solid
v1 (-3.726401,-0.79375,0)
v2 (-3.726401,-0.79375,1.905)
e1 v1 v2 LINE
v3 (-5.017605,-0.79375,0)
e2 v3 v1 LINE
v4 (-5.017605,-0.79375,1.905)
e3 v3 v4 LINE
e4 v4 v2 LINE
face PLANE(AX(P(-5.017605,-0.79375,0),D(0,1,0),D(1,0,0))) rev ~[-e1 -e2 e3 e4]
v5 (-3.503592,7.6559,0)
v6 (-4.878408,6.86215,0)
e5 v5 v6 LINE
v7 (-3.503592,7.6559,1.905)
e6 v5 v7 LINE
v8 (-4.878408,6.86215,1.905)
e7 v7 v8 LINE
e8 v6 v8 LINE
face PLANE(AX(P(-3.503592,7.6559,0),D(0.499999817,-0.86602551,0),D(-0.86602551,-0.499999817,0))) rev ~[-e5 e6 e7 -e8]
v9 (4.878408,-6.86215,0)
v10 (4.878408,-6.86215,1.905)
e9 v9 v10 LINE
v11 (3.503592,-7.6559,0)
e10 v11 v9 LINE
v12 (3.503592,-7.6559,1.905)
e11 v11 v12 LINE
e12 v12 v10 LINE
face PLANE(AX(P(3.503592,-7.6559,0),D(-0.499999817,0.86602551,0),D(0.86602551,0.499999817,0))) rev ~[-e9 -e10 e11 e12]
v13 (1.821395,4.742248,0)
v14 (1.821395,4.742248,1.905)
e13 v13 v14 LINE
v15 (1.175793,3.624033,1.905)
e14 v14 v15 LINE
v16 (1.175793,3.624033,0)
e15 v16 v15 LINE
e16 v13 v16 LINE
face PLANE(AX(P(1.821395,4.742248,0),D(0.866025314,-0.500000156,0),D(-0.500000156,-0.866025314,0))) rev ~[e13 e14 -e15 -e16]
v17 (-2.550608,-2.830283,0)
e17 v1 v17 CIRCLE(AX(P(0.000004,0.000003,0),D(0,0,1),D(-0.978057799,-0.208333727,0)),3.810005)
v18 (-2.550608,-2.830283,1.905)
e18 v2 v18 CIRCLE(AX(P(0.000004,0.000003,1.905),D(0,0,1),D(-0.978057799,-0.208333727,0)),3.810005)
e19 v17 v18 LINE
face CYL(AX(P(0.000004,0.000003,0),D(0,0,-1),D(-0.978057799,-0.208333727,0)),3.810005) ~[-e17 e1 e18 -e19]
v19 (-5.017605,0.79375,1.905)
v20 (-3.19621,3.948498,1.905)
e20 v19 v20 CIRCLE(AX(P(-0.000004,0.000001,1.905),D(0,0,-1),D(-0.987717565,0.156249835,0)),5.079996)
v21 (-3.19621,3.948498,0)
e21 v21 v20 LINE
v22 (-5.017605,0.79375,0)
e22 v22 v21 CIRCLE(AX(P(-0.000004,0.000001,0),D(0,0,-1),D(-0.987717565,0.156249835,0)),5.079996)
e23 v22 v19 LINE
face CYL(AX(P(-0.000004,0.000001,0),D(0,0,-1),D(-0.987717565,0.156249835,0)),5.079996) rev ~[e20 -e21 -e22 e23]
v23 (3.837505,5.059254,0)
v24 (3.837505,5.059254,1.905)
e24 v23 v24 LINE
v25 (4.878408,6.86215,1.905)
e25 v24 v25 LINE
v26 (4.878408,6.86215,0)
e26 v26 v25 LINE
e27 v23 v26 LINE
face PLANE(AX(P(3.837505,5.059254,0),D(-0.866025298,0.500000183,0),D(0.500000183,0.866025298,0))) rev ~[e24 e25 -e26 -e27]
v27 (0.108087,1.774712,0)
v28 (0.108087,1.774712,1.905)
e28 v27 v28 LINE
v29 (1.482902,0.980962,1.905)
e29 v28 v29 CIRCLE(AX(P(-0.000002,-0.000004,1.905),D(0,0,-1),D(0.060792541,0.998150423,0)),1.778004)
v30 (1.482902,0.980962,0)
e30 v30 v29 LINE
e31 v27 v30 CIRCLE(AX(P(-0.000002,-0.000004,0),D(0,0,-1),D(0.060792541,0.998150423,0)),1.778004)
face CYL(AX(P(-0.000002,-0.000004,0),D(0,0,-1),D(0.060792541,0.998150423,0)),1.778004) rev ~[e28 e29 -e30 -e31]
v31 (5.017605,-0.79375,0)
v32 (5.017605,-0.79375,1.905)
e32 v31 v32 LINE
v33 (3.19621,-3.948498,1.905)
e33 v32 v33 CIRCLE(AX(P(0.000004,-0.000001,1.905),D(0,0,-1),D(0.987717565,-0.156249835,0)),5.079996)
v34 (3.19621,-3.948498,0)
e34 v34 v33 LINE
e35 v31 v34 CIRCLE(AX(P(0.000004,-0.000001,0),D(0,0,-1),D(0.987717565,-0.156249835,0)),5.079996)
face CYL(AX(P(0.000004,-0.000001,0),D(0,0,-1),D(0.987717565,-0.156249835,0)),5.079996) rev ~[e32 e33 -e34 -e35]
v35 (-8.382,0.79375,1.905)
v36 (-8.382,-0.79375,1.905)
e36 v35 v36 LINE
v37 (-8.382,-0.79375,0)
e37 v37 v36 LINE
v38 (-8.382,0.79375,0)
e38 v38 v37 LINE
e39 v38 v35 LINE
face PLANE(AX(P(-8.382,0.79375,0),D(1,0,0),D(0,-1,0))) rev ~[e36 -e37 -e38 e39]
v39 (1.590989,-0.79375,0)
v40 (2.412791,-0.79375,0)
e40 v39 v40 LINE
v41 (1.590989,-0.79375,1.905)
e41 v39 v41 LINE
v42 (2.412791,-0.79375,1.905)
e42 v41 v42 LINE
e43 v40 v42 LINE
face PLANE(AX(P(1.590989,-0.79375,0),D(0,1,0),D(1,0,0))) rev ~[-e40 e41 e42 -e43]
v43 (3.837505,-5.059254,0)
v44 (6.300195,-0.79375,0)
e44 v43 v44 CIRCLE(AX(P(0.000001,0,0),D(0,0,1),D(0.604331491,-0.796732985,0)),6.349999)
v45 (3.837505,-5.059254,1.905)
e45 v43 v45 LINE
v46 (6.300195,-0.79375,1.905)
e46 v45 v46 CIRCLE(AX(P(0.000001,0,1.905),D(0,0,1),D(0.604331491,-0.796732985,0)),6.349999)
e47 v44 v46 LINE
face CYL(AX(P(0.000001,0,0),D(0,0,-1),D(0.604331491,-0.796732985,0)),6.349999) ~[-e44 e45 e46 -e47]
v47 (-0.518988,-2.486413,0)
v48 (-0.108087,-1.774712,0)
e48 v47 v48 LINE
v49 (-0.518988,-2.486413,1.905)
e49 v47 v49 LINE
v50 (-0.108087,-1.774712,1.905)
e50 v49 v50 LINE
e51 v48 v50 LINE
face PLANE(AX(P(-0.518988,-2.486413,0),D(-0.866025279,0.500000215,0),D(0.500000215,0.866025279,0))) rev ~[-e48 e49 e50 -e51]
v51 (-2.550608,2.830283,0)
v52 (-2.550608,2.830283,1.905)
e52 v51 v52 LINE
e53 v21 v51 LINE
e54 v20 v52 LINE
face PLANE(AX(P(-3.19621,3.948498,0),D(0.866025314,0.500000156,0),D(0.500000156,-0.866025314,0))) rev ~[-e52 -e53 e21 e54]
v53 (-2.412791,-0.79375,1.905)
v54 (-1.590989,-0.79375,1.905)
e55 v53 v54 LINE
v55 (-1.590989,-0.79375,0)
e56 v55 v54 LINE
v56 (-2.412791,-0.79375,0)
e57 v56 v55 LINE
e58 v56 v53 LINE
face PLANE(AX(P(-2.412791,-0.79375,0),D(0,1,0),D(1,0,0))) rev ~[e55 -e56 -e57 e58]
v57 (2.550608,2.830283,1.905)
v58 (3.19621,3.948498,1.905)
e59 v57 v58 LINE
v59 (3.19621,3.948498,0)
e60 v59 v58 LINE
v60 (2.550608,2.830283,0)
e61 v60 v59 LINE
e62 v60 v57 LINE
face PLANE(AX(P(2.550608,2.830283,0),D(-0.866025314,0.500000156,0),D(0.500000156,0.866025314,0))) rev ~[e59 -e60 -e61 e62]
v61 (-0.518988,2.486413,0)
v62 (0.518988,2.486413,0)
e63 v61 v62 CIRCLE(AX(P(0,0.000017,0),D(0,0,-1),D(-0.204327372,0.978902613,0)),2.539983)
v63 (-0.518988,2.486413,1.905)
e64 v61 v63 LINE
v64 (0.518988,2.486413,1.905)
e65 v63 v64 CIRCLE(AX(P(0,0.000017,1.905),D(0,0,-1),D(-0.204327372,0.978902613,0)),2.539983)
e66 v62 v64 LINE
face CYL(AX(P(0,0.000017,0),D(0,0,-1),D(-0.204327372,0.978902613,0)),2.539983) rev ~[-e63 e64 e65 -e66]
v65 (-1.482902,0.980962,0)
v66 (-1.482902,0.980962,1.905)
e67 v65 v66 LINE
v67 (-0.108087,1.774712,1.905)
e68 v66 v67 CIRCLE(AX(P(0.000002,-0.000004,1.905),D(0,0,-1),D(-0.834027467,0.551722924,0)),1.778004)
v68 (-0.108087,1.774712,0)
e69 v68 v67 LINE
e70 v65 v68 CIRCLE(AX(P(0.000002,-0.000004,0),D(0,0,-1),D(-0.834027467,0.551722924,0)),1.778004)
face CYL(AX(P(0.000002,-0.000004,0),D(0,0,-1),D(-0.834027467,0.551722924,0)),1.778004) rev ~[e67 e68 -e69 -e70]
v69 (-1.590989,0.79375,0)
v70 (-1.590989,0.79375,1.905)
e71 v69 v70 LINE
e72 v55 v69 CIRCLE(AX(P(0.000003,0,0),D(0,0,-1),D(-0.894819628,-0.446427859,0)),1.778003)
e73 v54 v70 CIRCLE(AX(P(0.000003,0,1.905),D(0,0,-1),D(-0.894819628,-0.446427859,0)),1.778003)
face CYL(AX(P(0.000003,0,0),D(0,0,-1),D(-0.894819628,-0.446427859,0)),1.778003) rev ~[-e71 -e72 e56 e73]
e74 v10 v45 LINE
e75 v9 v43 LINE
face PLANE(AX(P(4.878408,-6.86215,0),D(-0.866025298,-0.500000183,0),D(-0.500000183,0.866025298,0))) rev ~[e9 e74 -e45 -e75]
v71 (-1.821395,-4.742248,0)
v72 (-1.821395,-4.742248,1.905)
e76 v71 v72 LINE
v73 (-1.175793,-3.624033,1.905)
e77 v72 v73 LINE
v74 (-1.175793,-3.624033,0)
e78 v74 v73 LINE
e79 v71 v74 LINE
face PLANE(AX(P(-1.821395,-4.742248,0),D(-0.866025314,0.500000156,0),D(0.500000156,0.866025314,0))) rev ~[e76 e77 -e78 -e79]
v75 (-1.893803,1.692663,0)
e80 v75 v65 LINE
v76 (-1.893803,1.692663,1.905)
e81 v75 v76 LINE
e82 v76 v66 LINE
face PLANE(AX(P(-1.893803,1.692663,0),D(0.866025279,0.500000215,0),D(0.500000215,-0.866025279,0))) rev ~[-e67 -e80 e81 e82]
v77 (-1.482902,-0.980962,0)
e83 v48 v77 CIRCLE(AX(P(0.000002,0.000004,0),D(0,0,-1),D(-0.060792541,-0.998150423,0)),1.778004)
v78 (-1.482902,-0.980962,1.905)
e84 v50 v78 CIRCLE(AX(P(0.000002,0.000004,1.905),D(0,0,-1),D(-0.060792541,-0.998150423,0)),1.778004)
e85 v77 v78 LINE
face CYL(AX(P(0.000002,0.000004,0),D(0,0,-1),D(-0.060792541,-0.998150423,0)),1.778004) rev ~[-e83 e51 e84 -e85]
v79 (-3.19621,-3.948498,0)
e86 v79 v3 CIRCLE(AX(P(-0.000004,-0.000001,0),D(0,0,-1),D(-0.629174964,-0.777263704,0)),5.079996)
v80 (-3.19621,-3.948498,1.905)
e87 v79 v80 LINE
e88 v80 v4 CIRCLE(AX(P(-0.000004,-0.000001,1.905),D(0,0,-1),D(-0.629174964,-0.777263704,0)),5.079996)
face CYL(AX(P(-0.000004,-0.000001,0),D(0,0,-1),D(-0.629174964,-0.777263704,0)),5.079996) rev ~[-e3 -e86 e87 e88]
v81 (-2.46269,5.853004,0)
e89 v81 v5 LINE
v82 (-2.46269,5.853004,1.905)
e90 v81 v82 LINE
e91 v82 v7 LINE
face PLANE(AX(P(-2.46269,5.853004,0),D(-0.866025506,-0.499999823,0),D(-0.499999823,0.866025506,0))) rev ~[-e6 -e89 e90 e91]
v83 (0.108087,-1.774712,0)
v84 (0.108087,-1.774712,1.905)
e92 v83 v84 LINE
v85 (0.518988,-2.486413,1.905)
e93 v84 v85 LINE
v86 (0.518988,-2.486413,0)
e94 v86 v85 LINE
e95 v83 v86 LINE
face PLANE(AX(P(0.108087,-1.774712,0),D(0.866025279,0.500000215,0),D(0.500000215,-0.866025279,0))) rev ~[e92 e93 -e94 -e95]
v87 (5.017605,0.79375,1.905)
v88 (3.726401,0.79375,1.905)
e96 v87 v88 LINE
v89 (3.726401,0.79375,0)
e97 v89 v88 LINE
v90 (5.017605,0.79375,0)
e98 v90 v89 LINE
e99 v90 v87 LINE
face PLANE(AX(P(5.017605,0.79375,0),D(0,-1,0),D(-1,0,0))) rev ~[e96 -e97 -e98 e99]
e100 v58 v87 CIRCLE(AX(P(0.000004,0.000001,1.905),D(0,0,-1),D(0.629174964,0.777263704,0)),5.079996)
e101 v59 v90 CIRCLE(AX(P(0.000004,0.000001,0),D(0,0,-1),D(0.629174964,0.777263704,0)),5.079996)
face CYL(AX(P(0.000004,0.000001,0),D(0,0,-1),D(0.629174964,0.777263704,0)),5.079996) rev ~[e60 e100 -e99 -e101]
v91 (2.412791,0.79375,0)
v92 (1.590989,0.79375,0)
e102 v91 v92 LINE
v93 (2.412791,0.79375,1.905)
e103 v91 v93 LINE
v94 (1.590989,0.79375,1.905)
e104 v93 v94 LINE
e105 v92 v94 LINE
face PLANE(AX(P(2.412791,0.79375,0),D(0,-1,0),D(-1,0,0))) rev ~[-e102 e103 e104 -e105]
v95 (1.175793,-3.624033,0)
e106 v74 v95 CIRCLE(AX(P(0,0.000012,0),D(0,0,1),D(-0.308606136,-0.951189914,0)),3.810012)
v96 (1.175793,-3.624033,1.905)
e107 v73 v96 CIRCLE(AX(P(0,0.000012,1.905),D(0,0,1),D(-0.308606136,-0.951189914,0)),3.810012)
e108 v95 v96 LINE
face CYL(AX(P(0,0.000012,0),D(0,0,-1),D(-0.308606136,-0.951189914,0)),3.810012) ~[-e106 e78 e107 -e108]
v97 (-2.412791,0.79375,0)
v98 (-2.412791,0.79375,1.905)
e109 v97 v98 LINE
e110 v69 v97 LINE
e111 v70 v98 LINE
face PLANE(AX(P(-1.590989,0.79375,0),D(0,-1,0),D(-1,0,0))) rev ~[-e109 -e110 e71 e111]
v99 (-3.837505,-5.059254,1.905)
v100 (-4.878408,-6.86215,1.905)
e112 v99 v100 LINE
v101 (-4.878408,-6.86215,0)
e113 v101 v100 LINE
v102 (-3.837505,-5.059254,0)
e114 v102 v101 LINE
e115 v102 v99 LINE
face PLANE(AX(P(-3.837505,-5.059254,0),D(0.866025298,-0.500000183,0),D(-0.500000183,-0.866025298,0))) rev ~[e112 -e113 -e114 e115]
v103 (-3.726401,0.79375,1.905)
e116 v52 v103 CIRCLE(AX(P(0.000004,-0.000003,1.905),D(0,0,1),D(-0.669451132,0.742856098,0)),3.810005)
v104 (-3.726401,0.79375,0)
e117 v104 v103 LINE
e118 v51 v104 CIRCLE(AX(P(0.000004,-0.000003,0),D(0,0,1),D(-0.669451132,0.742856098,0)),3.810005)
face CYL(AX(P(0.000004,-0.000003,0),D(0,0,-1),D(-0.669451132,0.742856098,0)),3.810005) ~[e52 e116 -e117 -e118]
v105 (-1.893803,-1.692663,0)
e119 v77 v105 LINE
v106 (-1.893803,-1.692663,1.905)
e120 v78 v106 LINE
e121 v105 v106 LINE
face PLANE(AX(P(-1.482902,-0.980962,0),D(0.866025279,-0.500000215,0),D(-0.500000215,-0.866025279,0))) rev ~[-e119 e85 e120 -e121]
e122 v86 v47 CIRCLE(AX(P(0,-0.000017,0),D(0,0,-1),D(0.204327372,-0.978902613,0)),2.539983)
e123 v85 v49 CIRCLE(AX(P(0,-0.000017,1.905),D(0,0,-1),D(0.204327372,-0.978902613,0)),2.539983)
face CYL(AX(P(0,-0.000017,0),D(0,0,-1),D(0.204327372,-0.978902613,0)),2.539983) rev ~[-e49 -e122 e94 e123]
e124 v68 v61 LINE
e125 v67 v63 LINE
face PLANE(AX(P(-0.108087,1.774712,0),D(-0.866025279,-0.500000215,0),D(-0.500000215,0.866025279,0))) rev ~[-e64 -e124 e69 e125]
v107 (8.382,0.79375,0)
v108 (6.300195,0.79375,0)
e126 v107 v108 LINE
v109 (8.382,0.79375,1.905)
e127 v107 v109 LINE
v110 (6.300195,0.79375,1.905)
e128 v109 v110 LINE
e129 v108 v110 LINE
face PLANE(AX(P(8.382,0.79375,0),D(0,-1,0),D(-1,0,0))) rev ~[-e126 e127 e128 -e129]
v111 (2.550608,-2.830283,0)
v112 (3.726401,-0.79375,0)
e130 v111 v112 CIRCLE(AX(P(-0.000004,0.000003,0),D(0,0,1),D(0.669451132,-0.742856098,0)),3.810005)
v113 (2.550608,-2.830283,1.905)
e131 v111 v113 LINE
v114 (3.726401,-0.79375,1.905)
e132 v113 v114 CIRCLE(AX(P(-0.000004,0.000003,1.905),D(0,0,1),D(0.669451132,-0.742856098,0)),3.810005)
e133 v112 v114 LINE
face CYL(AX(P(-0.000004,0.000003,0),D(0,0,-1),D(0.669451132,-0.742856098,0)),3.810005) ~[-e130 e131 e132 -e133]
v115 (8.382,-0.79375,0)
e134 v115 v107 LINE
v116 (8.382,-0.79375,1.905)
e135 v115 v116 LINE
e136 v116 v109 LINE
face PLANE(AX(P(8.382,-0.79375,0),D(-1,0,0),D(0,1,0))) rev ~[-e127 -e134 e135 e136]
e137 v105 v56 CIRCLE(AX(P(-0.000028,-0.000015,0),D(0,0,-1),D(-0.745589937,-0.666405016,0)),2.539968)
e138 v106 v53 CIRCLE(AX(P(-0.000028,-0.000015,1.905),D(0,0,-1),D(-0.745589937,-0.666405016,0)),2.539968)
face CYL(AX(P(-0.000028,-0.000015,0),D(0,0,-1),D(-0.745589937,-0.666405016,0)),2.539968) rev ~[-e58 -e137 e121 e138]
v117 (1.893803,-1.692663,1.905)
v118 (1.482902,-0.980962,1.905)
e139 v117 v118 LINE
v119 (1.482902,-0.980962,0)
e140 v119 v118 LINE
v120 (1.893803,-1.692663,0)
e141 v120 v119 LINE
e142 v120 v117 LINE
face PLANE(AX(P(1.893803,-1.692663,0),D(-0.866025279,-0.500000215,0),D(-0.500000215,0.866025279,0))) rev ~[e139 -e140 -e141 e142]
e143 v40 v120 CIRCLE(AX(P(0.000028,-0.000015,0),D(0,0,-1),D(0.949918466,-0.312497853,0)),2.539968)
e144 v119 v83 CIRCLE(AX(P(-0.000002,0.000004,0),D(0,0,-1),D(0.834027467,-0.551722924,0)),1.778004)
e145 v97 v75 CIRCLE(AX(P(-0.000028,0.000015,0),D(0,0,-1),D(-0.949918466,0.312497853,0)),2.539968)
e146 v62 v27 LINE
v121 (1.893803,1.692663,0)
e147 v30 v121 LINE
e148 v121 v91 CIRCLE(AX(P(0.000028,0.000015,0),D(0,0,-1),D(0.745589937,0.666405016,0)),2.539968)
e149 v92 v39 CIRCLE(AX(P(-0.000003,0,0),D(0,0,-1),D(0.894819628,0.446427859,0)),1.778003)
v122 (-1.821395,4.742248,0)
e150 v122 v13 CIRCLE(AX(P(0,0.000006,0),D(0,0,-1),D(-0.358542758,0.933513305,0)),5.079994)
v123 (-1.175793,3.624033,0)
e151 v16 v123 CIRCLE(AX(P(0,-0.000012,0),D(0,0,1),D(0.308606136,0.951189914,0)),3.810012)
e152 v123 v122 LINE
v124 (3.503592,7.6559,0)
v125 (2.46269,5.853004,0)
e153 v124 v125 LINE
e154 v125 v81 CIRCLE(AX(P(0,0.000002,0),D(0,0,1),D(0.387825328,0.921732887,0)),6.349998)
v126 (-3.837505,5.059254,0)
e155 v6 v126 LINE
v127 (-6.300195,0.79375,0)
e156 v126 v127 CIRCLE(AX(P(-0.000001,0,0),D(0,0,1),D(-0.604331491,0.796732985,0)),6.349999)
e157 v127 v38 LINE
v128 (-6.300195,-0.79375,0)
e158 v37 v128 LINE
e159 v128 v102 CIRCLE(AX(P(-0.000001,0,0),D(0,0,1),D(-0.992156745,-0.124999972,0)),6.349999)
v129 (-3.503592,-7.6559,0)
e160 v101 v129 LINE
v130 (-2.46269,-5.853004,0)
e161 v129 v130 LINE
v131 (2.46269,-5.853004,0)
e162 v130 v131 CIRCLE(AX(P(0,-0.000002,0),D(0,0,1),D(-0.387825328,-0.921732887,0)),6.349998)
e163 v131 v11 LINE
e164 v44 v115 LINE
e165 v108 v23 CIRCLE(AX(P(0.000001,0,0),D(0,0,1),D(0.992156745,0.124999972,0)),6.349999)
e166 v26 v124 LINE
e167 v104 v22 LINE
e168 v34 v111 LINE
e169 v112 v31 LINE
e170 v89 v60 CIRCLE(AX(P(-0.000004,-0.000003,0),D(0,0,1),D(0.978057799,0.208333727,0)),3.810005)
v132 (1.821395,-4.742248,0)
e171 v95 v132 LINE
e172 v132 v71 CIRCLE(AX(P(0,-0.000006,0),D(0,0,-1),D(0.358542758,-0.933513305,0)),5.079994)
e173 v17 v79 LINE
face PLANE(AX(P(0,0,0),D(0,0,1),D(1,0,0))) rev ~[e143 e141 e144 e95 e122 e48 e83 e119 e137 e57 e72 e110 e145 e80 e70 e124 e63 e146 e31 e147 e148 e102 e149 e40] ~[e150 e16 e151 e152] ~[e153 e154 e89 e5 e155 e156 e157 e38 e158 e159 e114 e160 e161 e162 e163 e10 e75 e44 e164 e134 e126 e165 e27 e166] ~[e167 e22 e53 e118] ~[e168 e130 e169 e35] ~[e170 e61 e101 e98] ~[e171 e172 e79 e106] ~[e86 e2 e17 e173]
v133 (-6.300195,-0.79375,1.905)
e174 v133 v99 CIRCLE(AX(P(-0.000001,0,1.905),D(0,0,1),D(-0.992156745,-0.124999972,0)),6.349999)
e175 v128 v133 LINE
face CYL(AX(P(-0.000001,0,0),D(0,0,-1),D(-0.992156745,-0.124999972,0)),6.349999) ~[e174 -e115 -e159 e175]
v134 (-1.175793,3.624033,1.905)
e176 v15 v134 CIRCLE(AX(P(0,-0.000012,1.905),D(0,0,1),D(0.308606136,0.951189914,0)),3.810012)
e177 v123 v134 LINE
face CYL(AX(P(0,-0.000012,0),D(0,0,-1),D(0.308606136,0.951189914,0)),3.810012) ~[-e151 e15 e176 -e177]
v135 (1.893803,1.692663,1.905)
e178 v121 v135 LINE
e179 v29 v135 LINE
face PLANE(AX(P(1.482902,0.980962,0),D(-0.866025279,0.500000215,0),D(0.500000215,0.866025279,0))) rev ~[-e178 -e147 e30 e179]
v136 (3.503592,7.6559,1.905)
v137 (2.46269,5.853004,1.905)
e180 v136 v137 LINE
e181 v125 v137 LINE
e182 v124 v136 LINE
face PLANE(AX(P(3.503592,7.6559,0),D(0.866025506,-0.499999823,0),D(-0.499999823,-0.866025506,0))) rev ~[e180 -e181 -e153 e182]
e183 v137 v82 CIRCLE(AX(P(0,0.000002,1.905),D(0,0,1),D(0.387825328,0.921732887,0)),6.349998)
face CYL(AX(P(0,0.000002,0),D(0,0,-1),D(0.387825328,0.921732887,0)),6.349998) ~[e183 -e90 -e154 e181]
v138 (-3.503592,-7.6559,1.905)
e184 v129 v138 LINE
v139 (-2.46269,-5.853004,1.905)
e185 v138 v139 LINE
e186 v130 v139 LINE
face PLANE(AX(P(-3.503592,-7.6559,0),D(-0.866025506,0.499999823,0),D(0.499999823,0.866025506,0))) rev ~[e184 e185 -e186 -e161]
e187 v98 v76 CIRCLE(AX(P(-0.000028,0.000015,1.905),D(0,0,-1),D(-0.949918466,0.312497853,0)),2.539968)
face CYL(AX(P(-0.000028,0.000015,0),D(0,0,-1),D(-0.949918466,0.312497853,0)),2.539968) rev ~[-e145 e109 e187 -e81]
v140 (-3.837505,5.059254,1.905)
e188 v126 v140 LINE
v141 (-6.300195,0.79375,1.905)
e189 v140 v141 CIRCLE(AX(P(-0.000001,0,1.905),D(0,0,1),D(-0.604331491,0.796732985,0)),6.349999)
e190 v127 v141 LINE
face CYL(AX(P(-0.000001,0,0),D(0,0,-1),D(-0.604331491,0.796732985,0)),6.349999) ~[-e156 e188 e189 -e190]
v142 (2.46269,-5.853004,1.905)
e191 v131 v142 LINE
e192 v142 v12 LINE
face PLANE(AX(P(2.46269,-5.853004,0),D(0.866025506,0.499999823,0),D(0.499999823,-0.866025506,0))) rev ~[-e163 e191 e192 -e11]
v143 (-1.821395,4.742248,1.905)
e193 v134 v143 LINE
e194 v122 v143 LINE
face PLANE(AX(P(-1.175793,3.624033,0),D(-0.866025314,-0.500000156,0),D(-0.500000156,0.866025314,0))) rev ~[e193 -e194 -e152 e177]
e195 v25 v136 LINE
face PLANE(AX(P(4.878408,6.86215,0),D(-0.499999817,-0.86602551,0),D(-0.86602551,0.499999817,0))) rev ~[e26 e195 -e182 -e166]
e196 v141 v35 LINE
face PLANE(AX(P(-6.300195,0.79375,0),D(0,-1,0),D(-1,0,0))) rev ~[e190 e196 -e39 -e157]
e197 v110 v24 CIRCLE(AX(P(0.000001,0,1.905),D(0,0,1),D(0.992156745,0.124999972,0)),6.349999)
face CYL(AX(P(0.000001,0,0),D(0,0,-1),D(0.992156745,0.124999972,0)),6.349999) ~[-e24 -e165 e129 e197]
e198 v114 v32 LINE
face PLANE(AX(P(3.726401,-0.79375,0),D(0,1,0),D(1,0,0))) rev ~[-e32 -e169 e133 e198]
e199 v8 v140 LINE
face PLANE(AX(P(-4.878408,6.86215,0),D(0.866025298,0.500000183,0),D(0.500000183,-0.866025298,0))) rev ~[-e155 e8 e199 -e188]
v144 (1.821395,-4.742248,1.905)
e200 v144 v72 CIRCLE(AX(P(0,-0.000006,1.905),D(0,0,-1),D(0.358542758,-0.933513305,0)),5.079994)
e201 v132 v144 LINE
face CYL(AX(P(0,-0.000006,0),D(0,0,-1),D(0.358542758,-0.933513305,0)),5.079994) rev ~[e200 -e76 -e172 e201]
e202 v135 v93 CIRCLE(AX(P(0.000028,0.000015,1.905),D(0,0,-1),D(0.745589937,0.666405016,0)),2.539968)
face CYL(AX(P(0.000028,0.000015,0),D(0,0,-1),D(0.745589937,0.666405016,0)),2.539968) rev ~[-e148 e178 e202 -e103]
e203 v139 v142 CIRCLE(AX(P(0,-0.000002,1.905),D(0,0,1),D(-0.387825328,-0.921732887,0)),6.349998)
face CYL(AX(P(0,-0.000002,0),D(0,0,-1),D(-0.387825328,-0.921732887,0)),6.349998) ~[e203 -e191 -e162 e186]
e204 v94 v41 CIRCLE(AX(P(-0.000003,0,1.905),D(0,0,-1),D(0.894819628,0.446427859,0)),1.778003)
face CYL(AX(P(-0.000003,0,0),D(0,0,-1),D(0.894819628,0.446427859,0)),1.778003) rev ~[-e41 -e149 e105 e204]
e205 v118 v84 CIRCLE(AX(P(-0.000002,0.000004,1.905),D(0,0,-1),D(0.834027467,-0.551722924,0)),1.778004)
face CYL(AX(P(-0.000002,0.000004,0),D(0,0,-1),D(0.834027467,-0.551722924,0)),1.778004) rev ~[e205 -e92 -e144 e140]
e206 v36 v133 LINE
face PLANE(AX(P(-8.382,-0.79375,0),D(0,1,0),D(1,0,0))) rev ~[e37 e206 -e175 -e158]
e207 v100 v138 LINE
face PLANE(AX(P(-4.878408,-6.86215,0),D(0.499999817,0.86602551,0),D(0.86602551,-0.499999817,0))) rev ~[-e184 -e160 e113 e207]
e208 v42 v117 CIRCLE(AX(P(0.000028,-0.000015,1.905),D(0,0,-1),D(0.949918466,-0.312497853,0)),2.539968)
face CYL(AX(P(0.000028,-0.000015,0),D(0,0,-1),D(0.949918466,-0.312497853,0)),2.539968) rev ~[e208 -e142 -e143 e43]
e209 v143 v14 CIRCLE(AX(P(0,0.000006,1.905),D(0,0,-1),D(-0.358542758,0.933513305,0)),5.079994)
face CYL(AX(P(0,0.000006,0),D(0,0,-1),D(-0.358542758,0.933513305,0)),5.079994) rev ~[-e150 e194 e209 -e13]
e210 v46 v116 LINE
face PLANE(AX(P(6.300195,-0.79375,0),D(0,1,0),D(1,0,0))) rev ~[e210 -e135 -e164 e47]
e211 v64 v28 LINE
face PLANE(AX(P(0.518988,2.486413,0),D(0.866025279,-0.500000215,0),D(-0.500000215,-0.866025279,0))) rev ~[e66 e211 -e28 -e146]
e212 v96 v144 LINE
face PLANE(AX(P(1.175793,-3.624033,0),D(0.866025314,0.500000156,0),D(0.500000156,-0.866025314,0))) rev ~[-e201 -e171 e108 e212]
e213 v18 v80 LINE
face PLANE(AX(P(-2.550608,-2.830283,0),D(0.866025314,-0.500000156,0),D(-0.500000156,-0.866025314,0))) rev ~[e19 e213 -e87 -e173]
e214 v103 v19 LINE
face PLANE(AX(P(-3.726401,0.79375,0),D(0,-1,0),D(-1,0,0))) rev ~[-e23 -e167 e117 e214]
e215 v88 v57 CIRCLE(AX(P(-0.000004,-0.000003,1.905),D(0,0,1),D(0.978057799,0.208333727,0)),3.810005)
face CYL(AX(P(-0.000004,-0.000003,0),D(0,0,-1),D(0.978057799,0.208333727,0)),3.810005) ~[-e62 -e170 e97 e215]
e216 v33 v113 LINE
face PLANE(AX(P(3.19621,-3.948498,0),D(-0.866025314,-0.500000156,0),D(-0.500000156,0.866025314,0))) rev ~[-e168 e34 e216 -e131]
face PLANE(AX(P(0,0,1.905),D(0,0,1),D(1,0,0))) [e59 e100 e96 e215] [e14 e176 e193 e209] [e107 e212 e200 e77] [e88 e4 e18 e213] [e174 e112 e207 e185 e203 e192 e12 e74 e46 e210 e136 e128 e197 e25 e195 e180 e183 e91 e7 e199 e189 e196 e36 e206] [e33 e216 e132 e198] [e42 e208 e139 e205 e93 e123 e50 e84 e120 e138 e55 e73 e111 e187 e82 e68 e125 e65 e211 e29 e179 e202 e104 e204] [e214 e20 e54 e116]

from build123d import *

# Parameters (mm, degrees)
F1_DEPTH = 1.905


with BuildPart() as f1:
    # F0 (on Top) → F1 (new body)
    with BuildSketch(Plane.XY):
        with BuildLine():
            Line((-4.878408, 6.86215), (-3.837505, 5.059254))
            ThreePointArc((-3.837505, 5.059254), (-5.499261, 3.175), (-6.300195, 0.79375))
            Line((-6.300195, 0.79375), (-8.382, 0.79375))
            Line((-8.382, 0.79375), (-8.382, -0.79375))
            Line((-8.382, -0.79375), (-6.300195, -0.79375))
            ThreePointArc((-6.300195, -0.79375), (-5.499261, -3.175), (-3.837505, -5.059254))
            Line((-3.837505, -5.059254), (-4.878408, -6.86215))
            Line((-4.878408, -6.86215), (-3.503592, -7.6559))
            Line((-3.503592, -7.6559), (-2.46269, -5.853004))
            ThreePointArc((-2.46269, -5.853004), (0, -6.35), (2.46269, -5.853004))
            Line((2.46269, -5.853004), (3.503592, -7.6559))
            Line((3.503592, -7.6559), (4.878408, -6.86215))
            Line((4.878408, -6.86215), (3.837505, -5.059254))
            ThreePointArc((3.837505, -5.059254), (5.499261, -3.175), (6.300195, -0.79375))
            Line((6.300195, -0.79375), (8.382, -0.79375))
            Line((8.382, -0.79375), (8.382, 0.79375))
            Line((8.382, 0.79375), (6.300195, 0.79375))
            ThreePointArc((6.300195, 0.79375), (5.499261, 3.175), (3.837505, 5.059254))
            Line((3.837505, 5.059254), (4.878408, 6.86215))
            Line((4.878408, 6.86215), (3.503592, 7.6559))
            Line((3.503592, 7.6559), (2.46269, 5.853004))
            ThreePointArc((2.46269, 5.853004), (0, 6.35), (-2.46269, 5.853004))
            Line((-2.46269, 5.853004), (-3.503592, 7.6559))
            Line((-3.503592, 7.6559), (-4.878408, 6.86215))
        make_face()
        with BuildLine():
            ThreePointArc((-3.19621, -3.948498), (-4.399409, -2.54), (-5.017605, -0.79375))
            Line((-5.017605, -0.79375), (-3.726401, -0.79375))
            ThreePointArc((-3.726401, -0.79375), (-3.299557, -1.905), (-2.550608, -2.830283))
            Line((-2.550608, -2.830283), (-3.19621, -3.948498))
        make_face(mode=Mode.SUBTRACT)
        with BuildLine():
            ThreePointArc((1.821395, -4.742248), (0, -5.08), (-1.821395, -4.742248))
            Line((-1.821395, -4.742248), (-1.175793, -3.624033))
            ThreePointArc((-1.175793, -3.624033), (0, -3.81), (1.175793, -3.624033))
            Line((1.175793, -3.624033), (1.821395, -4.742248))
        make_face(mode=Mode.SUBTRACT)
        with BuildLine():
            Line((3.726401, -0.79375), (5.017605, -0.79375))
            ThreePointArc((5.017605, -0.79375), (4.399409, -2.54), (3.19621, -3.948498))
            Line((3.19621, -3.948498), (2.550608, -2.830283))
            ThreePointArc((2.550608, -2.830283), (3.299557, -1.905), (3.726401, -0.79375))
        make_face(mode=Mode.SUBTRACT)
        with BuildLine():
            ThreePointArc((-5.017605, 0.79375), (-4.399409, 2.54), (-3.19621, 3.948498))
            Line((-3.19621, 3.948498), (-2.550608, 2.830283))
            ThreePointArc((-2.550608, 2.830283), (-3.299557, 1.905), (-3.726401, 0.79375))
            Line((-3.726401, 0.79375), (-5.017605, 0.79375))
        make_face(mode=Mode.SUBTRACT)
        with BuildLine():
            ThreePointArc((-2.412791, 0.79375), (-2.199705, 1.27), (-1.893803, 1.692663))
            Line((-1.893803, 1.692663), (-1.482902, 0.980962))
            ThreePointArc((-1.482902, 0.980962), (-0.889, 1.539793), (-0.108087, 1.774712))
            Line((-0.108087, 1.774712), (-0.518988, 2.486413))
            ThreePointArc((-0.518988, 2.486413), (0, 2.54), (0.518988, 2.486413))
            Line((0.518988, 2.486413), (0.108087, 1.774712))
            ThreePointArc((0.108087, 1.774712), (0.889, 1.539793), (1.482902, 0.980962))
            Line((1.482902, 0.980962), (1.893803, 1.692663))
            ThreePointArc((1.893803, 1.692663), (2.199705, 1.27), (2.412791, 0.79375))
            Line((2.412791, 0.79375), (1.590989, 0.79375))
            ThreePointArc((1.590989, 0.79375), (1.778, 0), (1.590989, -0.79375))
            Line((1.590989, -0.79375), (2.412791, -0.79375))
            ThreePointArc((2.412791, -0.79375), (2.199705, -1.27), (1.893803, -1.692663))
            Line((1.893803, -1.692663), (1.482902, -0.980962))
            ThreePointArc((1.482902, -0.980962), (0.889, -1.539793), (0.108087, -1.774712))
            Line((0.108087, -1.774712), (0.518988, -2.486413))
            ThreePointArc((0.518988, -2.486413), (0, -2.54), (-0.518988, -2.486413))
            Line((-0.518988, -2.486413), (-0.108087, -1.774712))
            ThreePointArc((-0.108087, -1.774712), (-0.889, -1.539793), (-1.482902, -0.980962))
            Line((-1.482902, -0.980962), (-1.893803, -1.692663))
            ThreePointArc((-1.893803, -1.692663), (-2.199705, -1.27), (-2.412791, -0.79375))
            Line((-2.412791, -0.79375), (-1.590989, -0.79375))
            ThreePointArc((-1.590989, -0.79375), (-1.778, 0), (-1.590989, 0.79375))
            Line((-1.590989, 0.79375), (-2.412791, 0.79375))
        make_face(mode=Mode.SUBTRACT)
        with BuildLine():
            ThreePointArc((3.19621, 3.948498), (4.399409, 2.54), (5.017605, 0.79375))
            Line((5.017605, 0.79375), (3.726401, 0.79375))
            ThreePointArc((3.726401, 0.79375), (3.299557, 1.905), (2.550608, 2.830283))
            Line((2.550608, 2.830283), (3.19621, 3.948498))
        make_face(mode=Mode.SUBTRACT)
        with BuildLine():
            Line((-1.175793, 3.624033), (-1.821395, 4.742248))
            ThreePointArc((-1.821395, 4.742248), (0, 5.08), (1.821395, 4.742248))
            Line((1.821395, 4.742248), (1.175793, 3.624033))
            ThreePointArc((1.175793, 3.624033), (0, 3.81), (-1.175793, 3.624033))
        make_face(mode=Mode.SUBTRACT)
    extrude(amount=F1_DEPTH)


solid = f1.part
